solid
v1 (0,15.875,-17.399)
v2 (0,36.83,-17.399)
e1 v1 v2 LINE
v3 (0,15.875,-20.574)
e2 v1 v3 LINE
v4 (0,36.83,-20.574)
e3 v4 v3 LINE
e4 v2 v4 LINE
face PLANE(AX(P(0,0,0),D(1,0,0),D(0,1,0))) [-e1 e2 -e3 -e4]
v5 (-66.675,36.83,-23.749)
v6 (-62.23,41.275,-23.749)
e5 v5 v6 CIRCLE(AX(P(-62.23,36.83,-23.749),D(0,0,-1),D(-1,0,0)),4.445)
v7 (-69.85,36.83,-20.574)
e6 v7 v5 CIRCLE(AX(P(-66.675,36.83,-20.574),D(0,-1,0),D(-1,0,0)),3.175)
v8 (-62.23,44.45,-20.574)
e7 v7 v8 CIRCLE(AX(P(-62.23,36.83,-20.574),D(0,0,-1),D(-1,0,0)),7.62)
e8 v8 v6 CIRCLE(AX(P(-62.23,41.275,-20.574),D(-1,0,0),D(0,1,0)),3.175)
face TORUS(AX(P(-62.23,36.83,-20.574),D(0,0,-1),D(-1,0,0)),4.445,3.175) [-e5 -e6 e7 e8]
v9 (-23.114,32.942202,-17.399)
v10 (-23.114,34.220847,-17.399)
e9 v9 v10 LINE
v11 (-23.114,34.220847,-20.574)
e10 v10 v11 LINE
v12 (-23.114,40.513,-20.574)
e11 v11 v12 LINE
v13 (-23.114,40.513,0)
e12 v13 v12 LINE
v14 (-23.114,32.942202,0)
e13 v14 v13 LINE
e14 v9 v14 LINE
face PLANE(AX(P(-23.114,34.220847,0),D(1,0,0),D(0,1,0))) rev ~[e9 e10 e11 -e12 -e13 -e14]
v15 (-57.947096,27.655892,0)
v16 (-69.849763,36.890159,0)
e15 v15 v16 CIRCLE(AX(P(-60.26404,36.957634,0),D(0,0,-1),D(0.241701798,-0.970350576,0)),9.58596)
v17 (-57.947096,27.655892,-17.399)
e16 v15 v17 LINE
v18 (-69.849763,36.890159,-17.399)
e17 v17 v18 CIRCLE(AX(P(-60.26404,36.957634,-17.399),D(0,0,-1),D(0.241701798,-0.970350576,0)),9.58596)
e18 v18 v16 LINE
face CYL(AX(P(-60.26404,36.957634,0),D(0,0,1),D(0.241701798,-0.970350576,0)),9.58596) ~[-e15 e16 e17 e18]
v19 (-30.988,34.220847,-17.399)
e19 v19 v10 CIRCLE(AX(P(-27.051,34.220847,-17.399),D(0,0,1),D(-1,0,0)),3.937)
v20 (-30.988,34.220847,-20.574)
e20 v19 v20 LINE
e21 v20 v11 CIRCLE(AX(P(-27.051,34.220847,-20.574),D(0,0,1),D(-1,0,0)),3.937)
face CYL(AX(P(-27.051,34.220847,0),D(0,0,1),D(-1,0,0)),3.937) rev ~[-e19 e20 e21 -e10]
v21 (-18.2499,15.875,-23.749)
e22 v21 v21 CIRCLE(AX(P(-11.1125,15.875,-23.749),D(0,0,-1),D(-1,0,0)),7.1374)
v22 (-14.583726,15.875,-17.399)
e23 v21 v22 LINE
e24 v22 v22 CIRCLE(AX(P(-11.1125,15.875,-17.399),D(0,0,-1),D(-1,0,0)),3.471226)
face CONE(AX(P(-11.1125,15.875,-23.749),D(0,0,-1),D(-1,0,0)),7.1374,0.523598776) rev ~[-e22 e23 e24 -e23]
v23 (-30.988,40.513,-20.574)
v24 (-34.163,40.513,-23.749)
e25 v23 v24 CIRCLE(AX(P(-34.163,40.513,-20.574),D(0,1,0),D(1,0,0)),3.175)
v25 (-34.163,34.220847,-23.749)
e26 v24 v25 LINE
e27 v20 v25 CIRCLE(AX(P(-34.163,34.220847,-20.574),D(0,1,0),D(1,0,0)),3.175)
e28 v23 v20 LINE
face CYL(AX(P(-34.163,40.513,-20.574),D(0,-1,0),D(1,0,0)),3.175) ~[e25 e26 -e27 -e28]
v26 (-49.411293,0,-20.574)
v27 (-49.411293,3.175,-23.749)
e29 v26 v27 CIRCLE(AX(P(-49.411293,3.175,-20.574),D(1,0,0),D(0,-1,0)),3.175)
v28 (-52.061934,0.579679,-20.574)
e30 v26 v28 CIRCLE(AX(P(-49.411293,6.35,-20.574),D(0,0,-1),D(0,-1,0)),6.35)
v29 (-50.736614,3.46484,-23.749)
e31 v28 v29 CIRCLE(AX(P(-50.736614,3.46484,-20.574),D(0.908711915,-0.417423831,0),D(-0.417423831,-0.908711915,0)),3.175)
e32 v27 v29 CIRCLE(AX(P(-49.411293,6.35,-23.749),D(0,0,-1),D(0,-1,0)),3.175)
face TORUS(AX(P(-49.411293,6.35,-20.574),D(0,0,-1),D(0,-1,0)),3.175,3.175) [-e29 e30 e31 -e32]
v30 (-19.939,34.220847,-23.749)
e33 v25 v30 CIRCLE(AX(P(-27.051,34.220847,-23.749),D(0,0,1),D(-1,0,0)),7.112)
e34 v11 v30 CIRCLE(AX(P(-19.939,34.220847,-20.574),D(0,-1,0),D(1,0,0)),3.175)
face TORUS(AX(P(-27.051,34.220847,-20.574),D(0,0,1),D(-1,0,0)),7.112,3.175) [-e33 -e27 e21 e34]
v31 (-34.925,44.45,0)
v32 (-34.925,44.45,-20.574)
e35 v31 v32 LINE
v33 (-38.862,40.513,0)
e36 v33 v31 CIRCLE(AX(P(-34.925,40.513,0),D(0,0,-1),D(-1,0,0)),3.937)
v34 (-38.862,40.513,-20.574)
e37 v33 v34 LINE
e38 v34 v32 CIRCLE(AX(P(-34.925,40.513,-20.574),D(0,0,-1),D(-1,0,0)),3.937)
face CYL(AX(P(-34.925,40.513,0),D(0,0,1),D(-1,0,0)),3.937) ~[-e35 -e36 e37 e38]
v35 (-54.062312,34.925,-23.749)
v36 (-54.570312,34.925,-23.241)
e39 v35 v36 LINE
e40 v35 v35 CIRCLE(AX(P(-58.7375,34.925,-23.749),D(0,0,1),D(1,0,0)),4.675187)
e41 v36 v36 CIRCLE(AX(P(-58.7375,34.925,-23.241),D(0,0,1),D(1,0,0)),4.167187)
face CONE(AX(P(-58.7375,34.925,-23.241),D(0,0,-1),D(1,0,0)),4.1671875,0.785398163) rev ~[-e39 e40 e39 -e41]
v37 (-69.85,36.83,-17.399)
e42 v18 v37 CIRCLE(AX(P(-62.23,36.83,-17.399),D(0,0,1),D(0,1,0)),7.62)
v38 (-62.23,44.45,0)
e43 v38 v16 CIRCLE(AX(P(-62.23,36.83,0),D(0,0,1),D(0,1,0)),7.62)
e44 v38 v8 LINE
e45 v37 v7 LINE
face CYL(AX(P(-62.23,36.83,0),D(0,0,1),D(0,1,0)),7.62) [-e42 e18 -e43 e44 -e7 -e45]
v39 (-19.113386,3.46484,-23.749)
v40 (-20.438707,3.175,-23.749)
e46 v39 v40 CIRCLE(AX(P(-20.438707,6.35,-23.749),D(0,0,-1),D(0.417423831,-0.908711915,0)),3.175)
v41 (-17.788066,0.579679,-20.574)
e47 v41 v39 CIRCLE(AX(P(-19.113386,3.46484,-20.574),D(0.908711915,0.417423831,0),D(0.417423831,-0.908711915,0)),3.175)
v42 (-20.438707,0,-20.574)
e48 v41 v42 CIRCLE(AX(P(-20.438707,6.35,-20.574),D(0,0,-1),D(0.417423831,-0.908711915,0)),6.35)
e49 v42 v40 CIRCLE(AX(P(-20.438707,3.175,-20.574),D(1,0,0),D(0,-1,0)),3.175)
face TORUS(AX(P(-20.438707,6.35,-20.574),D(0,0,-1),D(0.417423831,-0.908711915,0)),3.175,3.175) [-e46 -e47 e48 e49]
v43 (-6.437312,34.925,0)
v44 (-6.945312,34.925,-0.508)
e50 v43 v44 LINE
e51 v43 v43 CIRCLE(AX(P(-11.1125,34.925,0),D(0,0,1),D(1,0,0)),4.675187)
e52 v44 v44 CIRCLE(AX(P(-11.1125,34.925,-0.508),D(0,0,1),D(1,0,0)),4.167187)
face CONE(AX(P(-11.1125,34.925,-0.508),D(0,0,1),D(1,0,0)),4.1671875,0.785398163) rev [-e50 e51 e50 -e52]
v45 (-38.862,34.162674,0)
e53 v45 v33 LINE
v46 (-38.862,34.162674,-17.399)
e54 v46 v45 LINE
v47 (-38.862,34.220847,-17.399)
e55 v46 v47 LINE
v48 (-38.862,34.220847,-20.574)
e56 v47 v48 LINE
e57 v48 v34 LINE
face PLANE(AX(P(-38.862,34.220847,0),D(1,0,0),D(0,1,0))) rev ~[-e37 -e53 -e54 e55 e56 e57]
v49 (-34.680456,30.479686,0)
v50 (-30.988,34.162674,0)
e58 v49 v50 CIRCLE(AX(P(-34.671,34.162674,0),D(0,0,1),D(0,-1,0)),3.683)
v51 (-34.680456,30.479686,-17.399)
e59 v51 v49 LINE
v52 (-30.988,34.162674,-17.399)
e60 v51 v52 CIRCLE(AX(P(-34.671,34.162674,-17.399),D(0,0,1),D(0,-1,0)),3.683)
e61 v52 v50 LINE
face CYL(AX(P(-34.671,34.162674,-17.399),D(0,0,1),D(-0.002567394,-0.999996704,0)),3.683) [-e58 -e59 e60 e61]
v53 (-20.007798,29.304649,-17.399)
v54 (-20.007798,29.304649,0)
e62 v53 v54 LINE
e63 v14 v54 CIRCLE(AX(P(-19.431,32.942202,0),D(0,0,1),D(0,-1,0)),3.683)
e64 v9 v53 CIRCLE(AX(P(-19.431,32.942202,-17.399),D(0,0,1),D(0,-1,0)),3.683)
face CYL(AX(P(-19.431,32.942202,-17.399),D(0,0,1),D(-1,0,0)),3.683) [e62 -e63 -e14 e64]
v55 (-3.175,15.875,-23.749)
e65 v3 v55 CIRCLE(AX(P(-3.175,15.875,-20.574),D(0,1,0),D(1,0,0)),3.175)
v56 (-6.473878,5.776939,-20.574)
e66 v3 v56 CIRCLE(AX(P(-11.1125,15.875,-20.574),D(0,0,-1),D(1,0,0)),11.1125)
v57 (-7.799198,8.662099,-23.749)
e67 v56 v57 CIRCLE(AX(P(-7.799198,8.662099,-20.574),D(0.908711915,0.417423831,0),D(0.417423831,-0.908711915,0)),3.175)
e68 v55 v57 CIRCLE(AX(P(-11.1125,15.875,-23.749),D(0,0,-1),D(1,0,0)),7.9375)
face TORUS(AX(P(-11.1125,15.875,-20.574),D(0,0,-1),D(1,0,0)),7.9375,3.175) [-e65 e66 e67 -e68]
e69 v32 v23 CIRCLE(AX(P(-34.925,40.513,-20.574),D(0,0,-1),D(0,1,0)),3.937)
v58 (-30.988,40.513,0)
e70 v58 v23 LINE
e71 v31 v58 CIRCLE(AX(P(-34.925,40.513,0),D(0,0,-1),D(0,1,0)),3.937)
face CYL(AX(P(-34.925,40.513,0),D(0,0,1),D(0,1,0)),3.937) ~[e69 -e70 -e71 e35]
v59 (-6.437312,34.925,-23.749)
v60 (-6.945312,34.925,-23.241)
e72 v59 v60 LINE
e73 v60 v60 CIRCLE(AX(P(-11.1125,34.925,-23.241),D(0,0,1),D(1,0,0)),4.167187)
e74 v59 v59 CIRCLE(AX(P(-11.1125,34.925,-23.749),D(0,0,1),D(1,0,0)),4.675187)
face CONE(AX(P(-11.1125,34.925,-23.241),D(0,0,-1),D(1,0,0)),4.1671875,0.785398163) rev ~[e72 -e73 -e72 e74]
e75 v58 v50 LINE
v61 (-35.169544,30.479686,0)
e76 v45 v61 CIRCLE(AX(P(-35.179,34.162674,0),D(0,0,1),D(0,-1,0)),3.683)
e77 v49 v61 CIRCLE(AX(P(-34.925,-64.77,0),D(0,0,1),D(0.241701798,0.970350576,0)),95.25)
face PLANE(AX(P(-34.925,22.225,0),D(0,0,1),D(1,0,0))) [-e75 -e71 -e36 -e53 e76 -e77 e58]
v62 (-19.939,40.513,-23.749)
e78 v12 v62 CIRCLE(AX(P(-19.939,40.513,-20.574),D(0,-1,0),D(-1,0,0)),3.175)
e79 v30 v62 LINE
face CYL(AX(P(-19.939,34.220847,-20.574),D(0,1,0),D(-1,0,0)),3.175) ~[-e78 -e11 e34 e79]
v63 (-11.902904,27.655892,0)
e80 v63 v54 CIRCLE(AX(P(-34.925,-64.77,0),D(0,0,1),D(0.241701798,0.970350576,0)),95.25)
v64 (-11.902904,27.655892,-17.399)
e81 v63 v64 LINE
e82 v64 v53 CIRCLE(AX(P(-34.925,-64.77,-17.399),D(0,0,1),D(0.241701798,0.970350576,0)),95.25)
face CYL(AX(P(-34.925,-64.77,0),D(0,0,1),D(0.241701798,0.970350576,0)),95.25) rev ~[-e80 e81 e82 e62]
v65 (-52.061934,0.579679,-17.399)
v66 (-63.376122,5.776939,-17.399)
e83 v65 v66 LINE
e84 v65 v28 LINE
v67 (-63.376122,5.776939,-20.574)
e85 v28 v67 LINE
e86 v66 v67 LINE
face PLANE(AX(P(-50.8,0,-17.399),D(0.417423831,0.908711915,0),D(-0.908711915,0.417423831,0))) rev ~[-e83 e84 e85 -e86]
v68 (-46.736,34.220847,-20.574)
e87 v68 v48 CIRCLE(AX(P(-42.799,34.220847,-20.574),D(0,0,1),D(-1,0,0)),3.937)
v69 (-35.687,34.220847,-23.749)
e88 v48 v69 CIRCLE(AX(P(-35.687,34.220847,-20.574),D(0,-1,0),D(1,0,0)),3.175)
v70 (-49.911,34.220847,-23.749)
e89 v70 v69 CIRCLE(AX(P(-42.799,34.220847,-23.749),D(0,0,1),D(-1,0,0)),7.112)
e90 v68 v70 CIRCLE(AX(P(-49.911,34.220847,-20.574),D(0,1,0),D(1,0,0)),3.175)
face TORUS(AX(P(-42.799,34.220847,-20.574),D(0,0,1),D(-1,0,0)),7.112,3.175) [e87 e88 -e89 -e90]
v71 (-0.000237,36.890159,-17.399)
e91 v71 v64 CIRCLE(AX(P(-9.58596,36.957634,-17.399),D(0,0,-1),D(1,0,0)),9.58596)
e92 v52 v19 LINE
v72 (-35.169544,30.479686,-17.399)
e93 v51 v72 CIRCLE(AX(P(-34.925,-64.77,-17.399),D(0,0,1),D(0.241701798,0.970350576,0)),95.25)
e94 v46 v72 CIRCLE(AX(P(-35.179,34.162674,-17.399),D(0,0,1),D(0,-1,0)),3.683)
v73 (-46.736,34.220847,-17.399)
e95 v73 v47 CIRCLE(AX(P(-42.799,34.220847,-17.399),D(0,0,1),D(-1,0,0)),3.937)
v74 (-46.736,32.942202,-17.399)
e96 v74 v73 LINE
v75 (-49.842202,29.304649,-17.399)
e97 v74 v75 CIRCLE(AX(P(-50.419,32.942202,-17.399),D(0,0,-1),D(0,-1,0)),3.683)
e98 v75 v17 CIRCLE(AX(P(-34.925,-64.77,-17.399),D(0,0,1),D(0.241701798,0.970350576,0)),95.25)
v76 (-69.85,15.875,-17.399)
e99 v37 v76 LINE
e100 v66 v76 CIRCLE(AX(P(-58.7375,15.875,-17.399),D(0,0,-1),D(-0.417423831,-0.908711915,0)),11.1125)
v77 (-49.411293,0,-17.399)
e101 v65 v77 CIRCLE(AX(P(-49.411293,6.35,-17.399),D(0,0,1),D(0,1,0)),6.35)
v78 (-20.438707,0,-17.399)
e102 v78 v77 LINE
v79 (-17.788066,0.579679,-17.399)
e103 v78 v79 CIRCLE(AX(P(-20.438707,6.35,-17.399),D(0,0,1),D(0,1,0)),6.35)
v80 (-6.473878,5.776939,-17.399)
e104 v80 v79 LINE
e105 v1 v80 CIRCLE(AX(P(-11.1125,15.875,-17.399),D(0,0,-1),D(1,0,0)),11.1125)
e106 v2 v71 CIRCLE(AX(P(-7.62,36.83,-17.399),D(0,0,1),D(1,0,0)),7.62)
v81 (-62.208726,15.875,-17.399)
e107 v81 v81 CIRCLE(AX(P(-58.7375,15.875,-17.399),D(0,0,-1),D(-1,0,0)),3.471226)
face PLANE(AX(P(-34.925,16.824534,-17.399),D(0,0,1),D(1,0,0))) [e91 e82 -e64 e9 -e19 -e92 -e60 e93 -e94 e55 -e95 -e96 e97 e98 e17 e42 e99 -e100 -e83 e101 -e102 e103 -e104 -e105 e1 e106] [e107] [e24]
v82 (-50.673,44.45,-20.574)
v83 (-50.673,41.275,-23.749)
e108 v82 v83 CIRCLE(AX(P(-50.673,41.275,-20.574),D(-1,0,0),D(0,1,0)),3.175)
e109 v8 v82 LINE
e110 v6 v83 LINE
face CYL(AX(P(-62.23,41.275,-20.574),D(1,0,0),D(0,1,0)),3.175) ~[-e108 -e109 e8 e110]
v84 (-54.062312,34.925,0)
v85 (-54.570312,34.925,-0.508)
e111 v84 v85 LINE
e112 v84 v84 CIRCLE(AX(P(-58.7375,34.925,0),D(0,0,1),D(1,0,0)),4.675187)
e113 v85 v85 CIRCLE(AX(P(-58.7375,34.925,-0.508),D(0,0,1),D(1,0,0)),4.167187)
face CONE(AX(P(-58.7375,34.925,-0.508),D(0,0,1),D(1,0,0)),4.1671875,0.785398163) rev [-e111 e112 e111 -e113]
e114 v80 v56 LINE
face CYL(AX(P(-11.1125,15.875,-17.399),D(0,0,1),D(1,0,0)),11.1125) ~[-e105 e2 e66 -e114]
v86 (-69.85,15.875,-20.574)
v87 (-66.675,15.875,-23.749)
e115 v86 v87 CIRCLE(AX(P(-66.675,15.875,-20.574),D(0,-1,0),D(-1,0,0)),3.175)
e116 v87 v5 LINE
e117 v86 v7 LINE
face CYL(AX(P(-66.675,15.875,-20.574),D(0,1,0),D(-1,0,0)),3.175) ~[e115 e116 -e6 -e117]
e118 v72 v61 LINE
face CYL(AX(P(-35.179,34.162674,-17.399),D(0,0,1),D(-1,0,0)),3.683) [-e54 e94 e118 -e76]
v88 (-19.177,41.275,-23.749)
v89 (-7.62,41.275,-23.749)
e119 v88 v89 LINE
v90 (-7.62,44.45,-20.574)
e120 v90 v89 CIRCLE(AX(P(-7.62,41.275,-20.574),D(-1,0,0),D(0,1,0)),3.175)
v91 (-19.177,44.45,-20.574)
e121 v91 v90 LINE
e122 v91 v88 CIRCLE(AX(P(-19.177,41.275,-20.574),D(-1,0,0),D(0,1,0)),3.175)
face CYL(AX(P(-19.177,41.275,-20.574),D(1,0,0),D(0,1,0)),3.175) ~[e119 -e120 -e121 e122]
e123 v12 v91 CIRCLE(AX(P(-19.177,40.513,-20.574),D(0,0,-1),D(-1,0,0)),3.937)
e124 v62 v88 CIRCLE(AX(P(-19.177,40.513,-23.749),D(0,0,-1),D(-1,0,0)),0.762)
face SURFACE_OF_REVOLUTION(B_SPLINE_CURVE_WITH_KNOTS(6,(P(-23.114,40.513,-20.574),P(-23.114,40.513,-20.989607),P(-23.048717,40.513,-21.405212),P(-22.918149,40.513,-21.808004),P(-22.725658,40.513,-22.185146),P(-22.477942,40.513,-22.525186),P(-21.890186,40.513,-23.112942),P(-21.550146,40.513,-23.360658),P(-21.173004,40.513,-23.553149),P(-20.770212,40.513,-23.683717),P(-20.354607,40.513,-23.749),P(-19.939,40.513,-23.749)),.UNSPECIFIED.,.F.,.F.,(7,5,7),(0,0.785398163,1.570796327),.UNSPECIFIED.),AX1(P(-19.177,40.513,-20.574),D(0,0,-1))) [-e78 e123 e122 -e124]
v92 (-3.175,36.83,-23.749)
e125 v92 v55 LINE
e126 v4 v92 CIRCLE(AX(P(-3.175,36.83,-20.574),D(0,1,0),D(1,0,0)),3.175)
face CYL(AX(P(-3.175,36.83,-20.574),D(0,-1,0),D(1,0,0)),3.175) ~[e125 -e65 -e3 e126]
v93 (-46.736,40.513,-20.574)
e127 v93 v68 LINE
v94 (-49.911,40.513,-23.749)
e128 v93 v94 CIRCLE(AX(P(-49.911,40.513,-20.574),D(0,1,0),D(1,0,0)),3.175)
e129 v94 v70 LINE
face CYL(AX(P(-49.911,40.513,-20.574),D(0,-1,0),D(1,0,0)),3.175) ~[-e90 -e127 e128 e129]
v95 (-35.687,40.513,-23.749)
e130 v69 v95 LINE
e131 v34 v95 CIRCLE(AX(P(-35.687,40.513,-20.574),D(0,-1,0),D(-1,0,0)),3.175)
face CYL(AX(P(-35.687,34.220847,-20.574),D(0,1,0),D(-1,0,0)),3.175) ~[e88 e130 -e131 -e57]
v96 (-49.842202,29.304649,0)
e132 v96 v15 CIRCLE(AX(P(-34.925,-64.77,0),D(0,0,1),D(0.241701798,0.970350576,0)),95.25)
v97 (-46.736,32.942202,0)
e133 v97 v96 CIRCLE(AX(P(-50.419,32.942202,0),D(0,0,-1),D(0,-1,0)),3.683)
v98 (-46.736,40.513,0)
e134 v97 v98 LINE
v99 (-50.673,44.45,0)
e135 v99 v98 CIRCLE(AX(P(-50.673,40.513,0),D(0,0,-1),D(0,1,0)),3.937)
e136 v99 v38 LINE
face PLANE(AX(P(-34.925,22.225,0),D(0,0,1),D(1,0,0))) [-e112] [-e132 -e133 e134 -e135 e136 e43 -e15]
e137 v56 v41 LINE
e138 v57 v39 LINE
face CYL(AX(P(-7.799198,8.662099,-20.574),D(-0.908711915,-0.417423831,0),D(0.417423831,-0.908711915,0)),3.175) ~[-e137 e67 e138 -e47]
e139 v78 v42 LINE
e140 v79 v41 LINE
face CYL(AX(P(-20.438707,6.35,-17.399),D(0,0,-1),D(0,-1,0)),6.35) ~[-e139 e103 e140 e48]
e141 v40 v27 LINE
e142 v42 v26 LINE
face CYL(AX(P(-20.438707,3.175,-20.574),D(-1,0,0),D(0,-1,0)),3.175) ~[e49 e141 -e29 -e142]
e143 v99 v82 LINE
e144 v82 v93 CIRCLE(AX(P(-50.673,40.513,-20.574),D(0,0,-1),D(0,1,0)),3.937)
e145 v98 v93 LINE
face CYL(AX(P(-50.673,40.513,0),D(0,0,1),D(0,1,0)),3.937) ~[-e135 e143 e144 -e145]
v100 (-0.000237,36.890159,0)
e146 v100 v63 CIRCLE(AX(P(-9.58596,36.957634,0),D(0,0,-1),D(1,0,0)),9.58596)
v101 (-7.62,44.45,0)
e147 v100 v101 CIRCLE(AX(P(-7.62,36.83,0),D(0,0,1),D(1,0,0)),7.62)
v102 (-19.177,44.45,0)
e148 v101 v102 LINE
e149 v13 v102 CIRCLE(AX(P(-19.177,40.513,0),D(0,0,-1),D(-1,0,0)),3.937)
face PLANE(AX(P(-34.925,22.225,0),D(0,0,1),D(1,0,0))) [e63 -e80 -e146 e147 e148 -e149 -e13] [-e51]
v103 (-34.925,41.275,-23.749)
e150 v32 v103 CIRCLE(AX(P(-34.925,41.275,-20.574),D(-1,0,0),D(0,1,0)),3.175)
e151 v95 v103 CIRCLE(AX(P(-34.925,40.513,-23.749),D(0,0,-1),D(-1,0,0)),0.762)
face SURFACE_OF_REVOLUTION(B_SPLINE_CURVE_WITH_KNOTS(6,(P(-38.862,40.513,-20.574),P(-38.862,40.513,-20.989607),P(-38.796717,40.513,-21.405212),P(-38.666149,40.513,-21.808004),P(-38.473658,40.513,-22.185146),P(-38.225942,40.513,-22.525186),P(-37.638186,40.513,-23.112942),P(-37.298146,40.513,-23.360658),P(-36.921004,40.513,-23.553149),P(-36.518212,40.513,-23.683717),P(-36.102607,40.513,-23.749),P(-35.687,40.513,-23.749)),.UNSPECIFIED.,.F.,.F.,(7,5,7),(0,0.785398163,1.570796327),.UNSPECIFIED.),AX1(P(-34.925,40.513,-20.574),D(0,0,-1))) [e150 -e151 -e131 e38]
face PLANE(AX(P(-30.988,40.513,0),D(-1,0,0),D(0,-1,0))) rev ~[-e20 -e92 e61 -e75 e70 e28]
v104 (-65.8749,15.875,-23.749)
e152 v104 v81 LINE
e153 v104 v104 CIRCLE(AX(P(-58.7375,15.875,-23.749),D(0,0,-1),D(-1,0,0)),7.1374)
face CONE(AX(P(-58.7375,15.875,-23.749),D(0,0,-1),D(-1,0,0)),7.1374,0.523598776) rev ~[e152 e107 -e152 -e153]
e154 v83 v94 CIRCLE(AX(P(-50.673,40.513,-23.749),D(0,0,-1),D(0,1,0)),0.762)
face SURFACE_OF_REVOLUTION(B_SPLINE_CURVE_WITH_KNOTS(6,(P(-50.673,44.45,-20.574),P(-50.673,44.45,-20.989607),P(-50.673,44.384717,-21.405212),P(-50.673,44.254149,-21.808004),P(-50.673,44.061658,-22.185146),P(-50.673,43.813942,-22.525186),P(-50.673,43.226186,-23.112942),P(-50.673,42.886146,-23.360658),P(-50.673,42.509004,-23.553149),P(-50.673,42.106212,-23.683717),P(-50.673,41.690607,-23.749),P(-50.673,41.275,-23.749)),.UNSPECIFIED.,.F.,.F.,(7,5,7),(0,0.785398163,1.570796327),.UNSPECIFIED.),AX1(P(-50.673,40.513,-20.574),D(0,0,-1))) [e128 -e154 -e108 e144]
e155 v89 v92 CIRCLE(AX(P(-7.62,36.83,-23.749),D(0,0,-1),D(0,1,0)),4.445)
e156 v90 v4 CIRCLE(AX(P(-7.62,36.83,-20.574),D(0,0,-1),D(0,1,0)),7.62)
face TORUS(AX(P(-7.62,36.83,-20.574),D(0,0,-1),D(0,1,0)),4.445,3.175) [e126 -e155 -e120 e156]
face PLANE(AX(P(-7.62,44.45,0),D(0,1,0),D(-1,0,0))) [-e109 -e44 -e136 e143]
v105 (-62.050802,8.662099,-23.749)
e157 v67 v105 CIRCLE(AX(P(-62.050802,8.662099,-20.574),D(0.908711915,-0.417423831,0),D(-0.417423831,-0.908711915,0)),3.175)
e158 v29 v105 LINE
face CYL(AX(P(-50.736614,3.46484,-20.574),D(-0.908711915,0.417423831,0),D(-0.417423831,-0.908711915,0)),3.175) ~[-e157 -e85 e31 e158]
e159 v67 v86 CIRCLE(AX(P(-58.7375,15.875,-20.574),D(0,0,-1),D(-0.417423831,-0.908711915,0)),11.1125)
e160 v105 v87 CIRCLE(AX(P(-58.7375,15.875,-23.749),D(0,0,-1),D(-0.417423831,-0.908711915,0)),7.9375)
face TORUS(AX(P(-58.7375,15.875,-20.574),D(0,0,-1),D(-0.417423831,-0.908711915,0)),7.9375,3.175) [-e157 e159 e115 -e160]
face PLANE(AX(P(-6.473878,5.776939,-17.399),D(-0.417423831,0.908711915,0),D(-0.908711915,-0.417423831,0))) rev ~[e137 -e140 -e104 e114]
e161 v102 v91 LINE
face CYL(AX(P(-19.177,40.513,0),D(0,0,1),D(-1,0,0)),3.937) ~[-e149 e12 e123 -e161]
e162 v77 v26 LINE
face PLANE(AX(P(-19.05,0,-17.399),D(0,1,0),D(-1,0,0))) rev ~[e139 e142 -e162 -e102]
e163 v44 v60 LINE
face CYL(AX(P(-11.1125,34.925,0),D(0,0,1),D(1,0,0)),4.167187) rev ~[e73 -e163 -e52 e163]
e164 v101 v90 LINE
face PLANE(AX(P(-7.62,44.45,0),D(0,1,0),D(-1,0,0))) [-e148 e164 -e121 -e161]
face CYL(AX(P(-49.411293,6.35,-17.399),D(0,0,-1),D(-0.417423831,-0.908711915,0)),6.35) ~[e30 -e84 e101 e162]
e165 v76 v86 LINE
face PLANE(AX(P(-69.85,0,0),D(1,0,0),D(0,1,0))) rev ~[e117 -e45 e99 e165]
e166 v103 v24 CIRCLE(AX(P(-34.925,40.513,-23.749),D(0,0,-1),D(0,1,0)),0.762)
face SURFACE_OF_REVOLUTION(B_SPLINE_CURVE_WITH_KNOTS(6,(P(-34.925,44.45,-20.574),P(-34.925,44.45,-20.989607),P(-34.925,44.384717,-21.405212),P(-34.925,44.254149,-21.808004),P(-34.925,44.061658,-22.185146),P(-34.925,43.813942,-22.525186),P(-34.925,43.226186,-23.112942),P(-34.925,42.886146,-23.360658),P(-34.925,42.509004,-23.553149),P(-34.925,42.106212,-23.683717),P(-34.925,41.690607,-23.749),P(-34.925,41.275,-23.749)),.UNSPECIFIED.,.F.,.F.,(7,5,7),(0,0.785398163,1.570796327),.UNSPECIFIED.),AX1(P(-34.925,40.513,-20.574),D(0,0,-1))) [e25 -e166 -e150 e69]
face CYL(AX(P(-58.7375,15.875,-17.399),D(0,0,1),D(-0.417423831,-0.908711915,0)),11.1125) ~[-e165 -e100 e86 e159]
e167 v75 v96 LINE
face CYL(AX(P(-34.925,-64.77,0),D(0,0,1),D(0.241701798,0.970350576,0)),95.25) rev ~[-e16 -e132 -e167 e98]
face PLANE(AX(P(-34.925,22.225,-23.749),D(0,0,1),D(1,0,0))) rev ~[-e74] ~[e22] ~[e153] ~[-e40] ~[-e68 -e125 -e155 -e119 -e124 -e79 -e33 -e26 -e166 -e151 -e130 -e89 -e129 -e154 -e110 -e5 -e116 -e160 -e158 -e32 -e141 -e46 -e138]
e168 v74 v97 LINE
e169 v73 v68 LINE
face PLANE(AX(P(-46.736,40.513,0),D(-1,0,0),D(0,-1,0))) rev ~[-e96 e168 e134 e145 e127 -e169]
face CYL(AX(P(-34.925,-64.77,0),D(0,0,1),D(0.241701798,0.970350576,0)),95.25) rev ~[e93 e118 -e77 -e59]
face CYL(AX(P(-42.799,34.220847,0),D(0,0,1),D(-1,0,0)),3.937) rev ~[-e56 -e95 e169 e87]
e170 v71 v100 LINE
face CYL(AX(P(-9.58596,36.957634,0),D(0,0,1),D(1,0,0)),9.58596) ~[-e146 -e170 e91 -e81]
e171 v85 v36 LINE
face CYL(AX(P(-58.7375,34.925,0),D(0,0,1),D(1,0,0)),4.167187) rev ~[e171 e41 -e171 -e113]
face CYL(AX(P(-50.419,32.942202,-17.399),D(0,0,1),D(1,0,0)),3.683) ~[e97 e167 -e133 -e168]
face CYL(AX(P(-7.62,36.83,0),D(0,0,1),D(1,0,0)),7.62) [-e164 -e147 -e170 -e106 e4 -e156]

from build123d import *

# Parameters (mm, degrees)
SKETCH1_W                    = 69.85
SKETCH1_H                    = 44.45
SKETCH1_R                    = 4.1671875
BOSS_EXTRUDE1_DEPTH          = 23.749
CUT_EXTRUDE1_DEPTH           = 17.399
SKETCH3_OUTSIDE_W            = 89.076
SKETCH3_OUTSIDE_H            = 63.676
CUT_EXTRUDE2_DEPTH           = 23.749
SKETCH4_OUTSIDE_W            = 89.076
SKETCH4_OUTSIDE_H            = 63.676
CUT_EXTRUDE3_DEPTH           = 6.35
CUT_EXTRUDE4_DEPTH           = 87.132688342
SKETCH6_R                    = 7.1374
CUT_EXTRUDE6_DEPTH           = 6.35
CUT_EXTRUDE6_DRAFT           = -30
CUT_EXTRUDE6_PROFILE_2_DEPTH = 6.35
CUT_EXTRUDE6_PROFILE_2_DRAFT = -30
SKETCH7_W                    = 7.874
SKETCH7_H                    = 9.578750354
CUT_EXTRUDE7_DEPTH           = 85.602306121
FILLET2_R                    = 3.683
CHAMFER1_SIZE                = 0.508
FILLET3_R                    = 6.35
FILLET4_R                    = 3.175


with BuildPart() as part:
    # Sketch1 → Boss-Extrude1 (new body)
    with BuildSketch(Plane.XY):
        with Locations((-34.925, 22.225)):
            Rectangle(SKETCH1_W, SKETCH1_H)
        with Locations((-58.7375, 34.925)):
            Circle(SKETCH1_R, mode=Mode.SUBTRACT)
        with Locations((-11.1125, 34.925)):
            Circle(SKETCH1_R, mode=Mode.SUBTRACT)
    extrude(amount=-BOSS_EXTRUDE1_DEPTH)

    # Sketch2 → Cut-Extrude1 (cut)
    with BuildSketch(Plane.XY):
        with BuildLine():
            Line((-69.85, 36.957634205), (-69.85, 0))
            Line((-69.85, 0), (-34.925, 0))
            Line((-34.925, 0), (0, 0))
            Line((0, 0), (0, 36.957634205))
            ThreePointArc((0, 36.957634205), (-3.683397045, 29.404464031), (-11.902903765, 27.655892395))
            ThreePointArc((-11.902903765, 27.655892395), (-34.925, 30.48), (-57.947096235, 27.655892395))
            ThreePointArc((-57.947096235, 27.655892395), (-66.166602955, 29.404464031), (-69.85, 36.957634205))
        make_face()
    extrude(amount=-CUT_EXTRUDE1_DEPTH, mode=Mode.SUBTRACT)

    # Sketch3 outside → Cut-Extrude2 (cut)
    with BuildSketch(Plane.XY):
        with Locations((-34.925, 22.225)):
            Rectangle(SKETCH3_OUTSIDE_W, SKETCH3_OUTSIDE_H)
        with BuildLine():
            Line((-69.85, 36.83), (-69.85, 0))
            Line((-69.85, 0), (0, 0))
            Line((0, 0), (0, 36.83))
            ThreePointArc((0, 36.83), (-2.231846327, 42.218153673), (-7.62, 44.45))
            Line((-7.62, 44.45), (-62.23, 44.45))
            ThreePointArc((-62.23, 44.45), (-67.618153673, 42.218153673), (-69.85, 36.83))
        make_face(mode=Mode.SUBTRACT)
    extrude(amount=-CUT_EXTRUDE2_DEPTH, mode=Mode.SUBTRACT)

    # Sketch4 outside → Cut-Extrude3 (cut)
    with BuildSketch(Plane.XY.offset(-17.399)):
        with Locations((-34.925, 22.225)):
            Rectangle(SKETCH4_OUTSIDE_W, SKETCH4_OUTSIDE_H)
        with BuildLine():
            Line((-69.85, 44.45), (0, 44.45))
            Line((0, 44.45), (0, 15.875))
            ThreePointArc((0, 15.875), (-1.757438621, 9.877460267), (-6.473877678, 5.776938839))
            Line((-6.473877678, 5.776938839), (-19.05, 0))
            Line((-19.05, 0), (-50.8, 0))
            Line((-50.8, 0), (-63.376122322, 5.776938839))
            ThreePointArc((-63.376122322, 5.776938839), (-68.092561379, 9.877460267), (-69.85, 15.875))
            Line((-69.85, 15.875), (-69.85, 44.45))
        make_face(mode=Mode.SUBTRACT)
    extrude(amount=-CUT_EXTRUDE3_DEPTH, mode=Mode.SUBTRACT)

    # Sketch5 → Cut-Extrude4 (cut, through all)
    with BuildSketch(Plane.XY):
        with BuildLine():
            Line((-38.862, 34.22084733), (-38.862, 40.513))
            ThreePointArc((-38.862, 40.513), (-37.708879398, 43.296879398), (-34.925, 44.45))
            Line((-34.925, 44.45), (-50.673, 44.45))
            ThreePointArc((-50.673, 44.45), (-47.889120602, 43.296879398), (-46.736, 40.513))
            Line((-46.736, 40.513), (-46.736, 34.22084733))
            ThreePointArc((-46.736, 34.22084733), (-42.799, 30.28384733), (-38.862, 34.22084733))
        make_face()
        with BuildLine():
            Line((-19.177, 44.45), (-34.925, 44.45))
            ThreePointArc((-34.925, 44.45), (-32.141120602, 43.296879398), (-30.988, 40.513))
            Line((-30.988, 40.513), (-30.988, 34.22084733))
            ThreePointArc((-30.988, 34.22084733), (-27.051, 30.28384733), (-23.114, 34.22084733))
            Line((-23.114, 34.22084733), (-23.114, 40.513))
            ThreePointArc((-23.114, 40.513), (-21.960879398, 43.296879398), (-19.177, 44.45))
        make_face()
    extrude(amount=-CUT_EXTRUDE4_DEPTH, mode=Mode.SUBTRACT)


with BuildPart() as cut_extrude6_tool:
    # Sketch6 → Cut-Extrude6 (with draft: the straight prism first)
    with BuildSketch(Plane(origin=(0, 0, -23.749), x_dir=(-1, 0, 0), z_dir=(0, 0, -1))):
        with Locations((11.1125, 15.875)):
            Circle(SKETCH6_R)
    extrude(amount=-CUT_EXTRUDE6_DEPTH)
    # Cut-Extrude6: the draft: its side faces are tilted about the plane it starts from
    cut_extrude6_sides = [cut_extrude6_tool.faces().sort_by_distance(p)[0] for p in [
        (-3.9751, 15.875, -20.574),
    ]]
    draft(cut_extrude6_sides, Plane(origin=(0, 0, -23.749), x_dir=(-1, 0, 0), z_dir=(0, 0, -1)), CUT_EXTRUDE6_DRAFT)


with BuildPart() as part_1:
    add(part.part)

    # Cut-Extrude6: cut by cut_extrude6_tool
    add(cut_extrude6_tool.part, mode=Mode.SUBTRACT)


with BuildPart() as cut_extrude6_profile_2_tool:
    # Sketch6 → Cut-Extrude6 profile 2 (with draft: the straight prism first)
    with BuildSketch(Plane(origin=(0, 0, -23.749), x_dir=(-1, 0, 0), z_dir=(0, 0, -1))):
        with Locations((58.7375, 15.875)):
            Circle(SKETCH6_R)
    extrude(amount=-CUT_EXTRUDE6_PROFILE_2_DEPTH)
    # Cut-Extrude6 profile 2: the draft: its side faces are tilted about the plane it starts from
    cut_extrude6_profile_2_sides = [cut_extrude6_profile_2_tool.faces().sort_by_distance(p)[0] for p in [
        (-51.6001, 15.875, -20.574),
    ]]
    draft(cut_extrude6_profile_2_sides, Plane(origin=(0, 0, -23.749), x_dir=(-1, 0, 0), z_dir=(0, 0, -1)), CUT_EXTRUDE6_PROFILE_2_DRAFT)


with BuildPart() as part_2:
    add(part_1.part)

    # Cut-Extrude6 profile 2: cut by cut_extrude6_profile_2_tool
    add(cut_extrude6_profile_2_tool.part, mode=Mode.SUBTRACT)

    # Sketch7 → Cut-Extrude7 (cut, through all)
    with BuildSketch(Plane.XY.offset(-17.399)):
        with Locations((-42.799, 32.577548488)):
            Rectangle(SKETCH7_W, SKETCH7_H)
        with Locations((-27.051, 32.577548488)):
            Rectangle(SKETCH7_W, SKETCH7_H)
    extrude(amount=CUT_EXTRUDE7_DEPTH, mode=Mode.SUBTRACT)

    # Fillet2
    fillet2_edges = [part_2.edges().sort_by_distance(p)[0] for p in [
        (-38.862, 30.398600552, -8.6995),
        (-46.736, 29.744881257, -8.6995),
        (-23.114, 29.744881257, -8.6995),
        (-30.988, 30.398600552, -8.6995),
    ]]
    fillet(fillet2_edges, radius=FILLET2_R)

    # Chamfer1
    chamfer1_edges = [part_2.edges().sort_by_distance(p)[0] for p in [
        (-62.9046875, 34.925, -23.749),
        (-62.9046875, 34.925, 0),
        (-15.2796875, 34.925, -23.749),
        (-15.2796875, 34.925, 0),
    ]]
    chamfer(chamfer1_edges, length=CHAMFER1_SIZE)

    # Fillet3
    fillet3_edges = [part_2.edges().sort_by_distance(p)[0] for p in [
        (-50.8, 0, -20.574),
        (-19.05, 0, -20.574),
    ]]
    fillet(fillet3_edges, radius=FILLET3_R)

    # Fillet4
    fillet4_edges = [part_2.edges().sort_by_distance(p)[0] for p in [
        (-1.757438621, 9.877460267, -23.749),
        (-68.092561379, 9.877460267, -23.749),
        (-12.130971605, 3.178309088, -23.749),
        (-56.4515, 44.45, -23.749),
        (-42.799, 30.28384733, -23.749),
        (-47.889120602, 43.296879398, -23.749),
        (-34.925, 44.45, -23.749),
        (-38.862, 37.366923665, -23.749),
        (-46.736, 37.366923665, -23.749),
        (-23.114, 37.366923665, -23.749),
        (-27.051, 30.28384733, -23.749),
        (-21.960879398, 43.296879398, -23.749),
        (-30.988, 37.366923665, -23.749),
        (-57.719028395, 3.178309088, -23.749),
        (-34.925, 0, -23.749),
        (-19.082063244, 0.146612369, -23.749),
        (-50.767936756, 0.146612369, -23.749),
        (-69.85, 26.3525, -23.749),
        (-13.3985, 44.45, -23.749),
        (-2.231846327, 42.218153673, -23.749),
        (-67.618153673, 42.218153673, -23.749),
        (0, 26.3525, -23.749),
    ]]
    fillet(fillet4_edges, radius=FILLET4_R)


solid = part_2.part
